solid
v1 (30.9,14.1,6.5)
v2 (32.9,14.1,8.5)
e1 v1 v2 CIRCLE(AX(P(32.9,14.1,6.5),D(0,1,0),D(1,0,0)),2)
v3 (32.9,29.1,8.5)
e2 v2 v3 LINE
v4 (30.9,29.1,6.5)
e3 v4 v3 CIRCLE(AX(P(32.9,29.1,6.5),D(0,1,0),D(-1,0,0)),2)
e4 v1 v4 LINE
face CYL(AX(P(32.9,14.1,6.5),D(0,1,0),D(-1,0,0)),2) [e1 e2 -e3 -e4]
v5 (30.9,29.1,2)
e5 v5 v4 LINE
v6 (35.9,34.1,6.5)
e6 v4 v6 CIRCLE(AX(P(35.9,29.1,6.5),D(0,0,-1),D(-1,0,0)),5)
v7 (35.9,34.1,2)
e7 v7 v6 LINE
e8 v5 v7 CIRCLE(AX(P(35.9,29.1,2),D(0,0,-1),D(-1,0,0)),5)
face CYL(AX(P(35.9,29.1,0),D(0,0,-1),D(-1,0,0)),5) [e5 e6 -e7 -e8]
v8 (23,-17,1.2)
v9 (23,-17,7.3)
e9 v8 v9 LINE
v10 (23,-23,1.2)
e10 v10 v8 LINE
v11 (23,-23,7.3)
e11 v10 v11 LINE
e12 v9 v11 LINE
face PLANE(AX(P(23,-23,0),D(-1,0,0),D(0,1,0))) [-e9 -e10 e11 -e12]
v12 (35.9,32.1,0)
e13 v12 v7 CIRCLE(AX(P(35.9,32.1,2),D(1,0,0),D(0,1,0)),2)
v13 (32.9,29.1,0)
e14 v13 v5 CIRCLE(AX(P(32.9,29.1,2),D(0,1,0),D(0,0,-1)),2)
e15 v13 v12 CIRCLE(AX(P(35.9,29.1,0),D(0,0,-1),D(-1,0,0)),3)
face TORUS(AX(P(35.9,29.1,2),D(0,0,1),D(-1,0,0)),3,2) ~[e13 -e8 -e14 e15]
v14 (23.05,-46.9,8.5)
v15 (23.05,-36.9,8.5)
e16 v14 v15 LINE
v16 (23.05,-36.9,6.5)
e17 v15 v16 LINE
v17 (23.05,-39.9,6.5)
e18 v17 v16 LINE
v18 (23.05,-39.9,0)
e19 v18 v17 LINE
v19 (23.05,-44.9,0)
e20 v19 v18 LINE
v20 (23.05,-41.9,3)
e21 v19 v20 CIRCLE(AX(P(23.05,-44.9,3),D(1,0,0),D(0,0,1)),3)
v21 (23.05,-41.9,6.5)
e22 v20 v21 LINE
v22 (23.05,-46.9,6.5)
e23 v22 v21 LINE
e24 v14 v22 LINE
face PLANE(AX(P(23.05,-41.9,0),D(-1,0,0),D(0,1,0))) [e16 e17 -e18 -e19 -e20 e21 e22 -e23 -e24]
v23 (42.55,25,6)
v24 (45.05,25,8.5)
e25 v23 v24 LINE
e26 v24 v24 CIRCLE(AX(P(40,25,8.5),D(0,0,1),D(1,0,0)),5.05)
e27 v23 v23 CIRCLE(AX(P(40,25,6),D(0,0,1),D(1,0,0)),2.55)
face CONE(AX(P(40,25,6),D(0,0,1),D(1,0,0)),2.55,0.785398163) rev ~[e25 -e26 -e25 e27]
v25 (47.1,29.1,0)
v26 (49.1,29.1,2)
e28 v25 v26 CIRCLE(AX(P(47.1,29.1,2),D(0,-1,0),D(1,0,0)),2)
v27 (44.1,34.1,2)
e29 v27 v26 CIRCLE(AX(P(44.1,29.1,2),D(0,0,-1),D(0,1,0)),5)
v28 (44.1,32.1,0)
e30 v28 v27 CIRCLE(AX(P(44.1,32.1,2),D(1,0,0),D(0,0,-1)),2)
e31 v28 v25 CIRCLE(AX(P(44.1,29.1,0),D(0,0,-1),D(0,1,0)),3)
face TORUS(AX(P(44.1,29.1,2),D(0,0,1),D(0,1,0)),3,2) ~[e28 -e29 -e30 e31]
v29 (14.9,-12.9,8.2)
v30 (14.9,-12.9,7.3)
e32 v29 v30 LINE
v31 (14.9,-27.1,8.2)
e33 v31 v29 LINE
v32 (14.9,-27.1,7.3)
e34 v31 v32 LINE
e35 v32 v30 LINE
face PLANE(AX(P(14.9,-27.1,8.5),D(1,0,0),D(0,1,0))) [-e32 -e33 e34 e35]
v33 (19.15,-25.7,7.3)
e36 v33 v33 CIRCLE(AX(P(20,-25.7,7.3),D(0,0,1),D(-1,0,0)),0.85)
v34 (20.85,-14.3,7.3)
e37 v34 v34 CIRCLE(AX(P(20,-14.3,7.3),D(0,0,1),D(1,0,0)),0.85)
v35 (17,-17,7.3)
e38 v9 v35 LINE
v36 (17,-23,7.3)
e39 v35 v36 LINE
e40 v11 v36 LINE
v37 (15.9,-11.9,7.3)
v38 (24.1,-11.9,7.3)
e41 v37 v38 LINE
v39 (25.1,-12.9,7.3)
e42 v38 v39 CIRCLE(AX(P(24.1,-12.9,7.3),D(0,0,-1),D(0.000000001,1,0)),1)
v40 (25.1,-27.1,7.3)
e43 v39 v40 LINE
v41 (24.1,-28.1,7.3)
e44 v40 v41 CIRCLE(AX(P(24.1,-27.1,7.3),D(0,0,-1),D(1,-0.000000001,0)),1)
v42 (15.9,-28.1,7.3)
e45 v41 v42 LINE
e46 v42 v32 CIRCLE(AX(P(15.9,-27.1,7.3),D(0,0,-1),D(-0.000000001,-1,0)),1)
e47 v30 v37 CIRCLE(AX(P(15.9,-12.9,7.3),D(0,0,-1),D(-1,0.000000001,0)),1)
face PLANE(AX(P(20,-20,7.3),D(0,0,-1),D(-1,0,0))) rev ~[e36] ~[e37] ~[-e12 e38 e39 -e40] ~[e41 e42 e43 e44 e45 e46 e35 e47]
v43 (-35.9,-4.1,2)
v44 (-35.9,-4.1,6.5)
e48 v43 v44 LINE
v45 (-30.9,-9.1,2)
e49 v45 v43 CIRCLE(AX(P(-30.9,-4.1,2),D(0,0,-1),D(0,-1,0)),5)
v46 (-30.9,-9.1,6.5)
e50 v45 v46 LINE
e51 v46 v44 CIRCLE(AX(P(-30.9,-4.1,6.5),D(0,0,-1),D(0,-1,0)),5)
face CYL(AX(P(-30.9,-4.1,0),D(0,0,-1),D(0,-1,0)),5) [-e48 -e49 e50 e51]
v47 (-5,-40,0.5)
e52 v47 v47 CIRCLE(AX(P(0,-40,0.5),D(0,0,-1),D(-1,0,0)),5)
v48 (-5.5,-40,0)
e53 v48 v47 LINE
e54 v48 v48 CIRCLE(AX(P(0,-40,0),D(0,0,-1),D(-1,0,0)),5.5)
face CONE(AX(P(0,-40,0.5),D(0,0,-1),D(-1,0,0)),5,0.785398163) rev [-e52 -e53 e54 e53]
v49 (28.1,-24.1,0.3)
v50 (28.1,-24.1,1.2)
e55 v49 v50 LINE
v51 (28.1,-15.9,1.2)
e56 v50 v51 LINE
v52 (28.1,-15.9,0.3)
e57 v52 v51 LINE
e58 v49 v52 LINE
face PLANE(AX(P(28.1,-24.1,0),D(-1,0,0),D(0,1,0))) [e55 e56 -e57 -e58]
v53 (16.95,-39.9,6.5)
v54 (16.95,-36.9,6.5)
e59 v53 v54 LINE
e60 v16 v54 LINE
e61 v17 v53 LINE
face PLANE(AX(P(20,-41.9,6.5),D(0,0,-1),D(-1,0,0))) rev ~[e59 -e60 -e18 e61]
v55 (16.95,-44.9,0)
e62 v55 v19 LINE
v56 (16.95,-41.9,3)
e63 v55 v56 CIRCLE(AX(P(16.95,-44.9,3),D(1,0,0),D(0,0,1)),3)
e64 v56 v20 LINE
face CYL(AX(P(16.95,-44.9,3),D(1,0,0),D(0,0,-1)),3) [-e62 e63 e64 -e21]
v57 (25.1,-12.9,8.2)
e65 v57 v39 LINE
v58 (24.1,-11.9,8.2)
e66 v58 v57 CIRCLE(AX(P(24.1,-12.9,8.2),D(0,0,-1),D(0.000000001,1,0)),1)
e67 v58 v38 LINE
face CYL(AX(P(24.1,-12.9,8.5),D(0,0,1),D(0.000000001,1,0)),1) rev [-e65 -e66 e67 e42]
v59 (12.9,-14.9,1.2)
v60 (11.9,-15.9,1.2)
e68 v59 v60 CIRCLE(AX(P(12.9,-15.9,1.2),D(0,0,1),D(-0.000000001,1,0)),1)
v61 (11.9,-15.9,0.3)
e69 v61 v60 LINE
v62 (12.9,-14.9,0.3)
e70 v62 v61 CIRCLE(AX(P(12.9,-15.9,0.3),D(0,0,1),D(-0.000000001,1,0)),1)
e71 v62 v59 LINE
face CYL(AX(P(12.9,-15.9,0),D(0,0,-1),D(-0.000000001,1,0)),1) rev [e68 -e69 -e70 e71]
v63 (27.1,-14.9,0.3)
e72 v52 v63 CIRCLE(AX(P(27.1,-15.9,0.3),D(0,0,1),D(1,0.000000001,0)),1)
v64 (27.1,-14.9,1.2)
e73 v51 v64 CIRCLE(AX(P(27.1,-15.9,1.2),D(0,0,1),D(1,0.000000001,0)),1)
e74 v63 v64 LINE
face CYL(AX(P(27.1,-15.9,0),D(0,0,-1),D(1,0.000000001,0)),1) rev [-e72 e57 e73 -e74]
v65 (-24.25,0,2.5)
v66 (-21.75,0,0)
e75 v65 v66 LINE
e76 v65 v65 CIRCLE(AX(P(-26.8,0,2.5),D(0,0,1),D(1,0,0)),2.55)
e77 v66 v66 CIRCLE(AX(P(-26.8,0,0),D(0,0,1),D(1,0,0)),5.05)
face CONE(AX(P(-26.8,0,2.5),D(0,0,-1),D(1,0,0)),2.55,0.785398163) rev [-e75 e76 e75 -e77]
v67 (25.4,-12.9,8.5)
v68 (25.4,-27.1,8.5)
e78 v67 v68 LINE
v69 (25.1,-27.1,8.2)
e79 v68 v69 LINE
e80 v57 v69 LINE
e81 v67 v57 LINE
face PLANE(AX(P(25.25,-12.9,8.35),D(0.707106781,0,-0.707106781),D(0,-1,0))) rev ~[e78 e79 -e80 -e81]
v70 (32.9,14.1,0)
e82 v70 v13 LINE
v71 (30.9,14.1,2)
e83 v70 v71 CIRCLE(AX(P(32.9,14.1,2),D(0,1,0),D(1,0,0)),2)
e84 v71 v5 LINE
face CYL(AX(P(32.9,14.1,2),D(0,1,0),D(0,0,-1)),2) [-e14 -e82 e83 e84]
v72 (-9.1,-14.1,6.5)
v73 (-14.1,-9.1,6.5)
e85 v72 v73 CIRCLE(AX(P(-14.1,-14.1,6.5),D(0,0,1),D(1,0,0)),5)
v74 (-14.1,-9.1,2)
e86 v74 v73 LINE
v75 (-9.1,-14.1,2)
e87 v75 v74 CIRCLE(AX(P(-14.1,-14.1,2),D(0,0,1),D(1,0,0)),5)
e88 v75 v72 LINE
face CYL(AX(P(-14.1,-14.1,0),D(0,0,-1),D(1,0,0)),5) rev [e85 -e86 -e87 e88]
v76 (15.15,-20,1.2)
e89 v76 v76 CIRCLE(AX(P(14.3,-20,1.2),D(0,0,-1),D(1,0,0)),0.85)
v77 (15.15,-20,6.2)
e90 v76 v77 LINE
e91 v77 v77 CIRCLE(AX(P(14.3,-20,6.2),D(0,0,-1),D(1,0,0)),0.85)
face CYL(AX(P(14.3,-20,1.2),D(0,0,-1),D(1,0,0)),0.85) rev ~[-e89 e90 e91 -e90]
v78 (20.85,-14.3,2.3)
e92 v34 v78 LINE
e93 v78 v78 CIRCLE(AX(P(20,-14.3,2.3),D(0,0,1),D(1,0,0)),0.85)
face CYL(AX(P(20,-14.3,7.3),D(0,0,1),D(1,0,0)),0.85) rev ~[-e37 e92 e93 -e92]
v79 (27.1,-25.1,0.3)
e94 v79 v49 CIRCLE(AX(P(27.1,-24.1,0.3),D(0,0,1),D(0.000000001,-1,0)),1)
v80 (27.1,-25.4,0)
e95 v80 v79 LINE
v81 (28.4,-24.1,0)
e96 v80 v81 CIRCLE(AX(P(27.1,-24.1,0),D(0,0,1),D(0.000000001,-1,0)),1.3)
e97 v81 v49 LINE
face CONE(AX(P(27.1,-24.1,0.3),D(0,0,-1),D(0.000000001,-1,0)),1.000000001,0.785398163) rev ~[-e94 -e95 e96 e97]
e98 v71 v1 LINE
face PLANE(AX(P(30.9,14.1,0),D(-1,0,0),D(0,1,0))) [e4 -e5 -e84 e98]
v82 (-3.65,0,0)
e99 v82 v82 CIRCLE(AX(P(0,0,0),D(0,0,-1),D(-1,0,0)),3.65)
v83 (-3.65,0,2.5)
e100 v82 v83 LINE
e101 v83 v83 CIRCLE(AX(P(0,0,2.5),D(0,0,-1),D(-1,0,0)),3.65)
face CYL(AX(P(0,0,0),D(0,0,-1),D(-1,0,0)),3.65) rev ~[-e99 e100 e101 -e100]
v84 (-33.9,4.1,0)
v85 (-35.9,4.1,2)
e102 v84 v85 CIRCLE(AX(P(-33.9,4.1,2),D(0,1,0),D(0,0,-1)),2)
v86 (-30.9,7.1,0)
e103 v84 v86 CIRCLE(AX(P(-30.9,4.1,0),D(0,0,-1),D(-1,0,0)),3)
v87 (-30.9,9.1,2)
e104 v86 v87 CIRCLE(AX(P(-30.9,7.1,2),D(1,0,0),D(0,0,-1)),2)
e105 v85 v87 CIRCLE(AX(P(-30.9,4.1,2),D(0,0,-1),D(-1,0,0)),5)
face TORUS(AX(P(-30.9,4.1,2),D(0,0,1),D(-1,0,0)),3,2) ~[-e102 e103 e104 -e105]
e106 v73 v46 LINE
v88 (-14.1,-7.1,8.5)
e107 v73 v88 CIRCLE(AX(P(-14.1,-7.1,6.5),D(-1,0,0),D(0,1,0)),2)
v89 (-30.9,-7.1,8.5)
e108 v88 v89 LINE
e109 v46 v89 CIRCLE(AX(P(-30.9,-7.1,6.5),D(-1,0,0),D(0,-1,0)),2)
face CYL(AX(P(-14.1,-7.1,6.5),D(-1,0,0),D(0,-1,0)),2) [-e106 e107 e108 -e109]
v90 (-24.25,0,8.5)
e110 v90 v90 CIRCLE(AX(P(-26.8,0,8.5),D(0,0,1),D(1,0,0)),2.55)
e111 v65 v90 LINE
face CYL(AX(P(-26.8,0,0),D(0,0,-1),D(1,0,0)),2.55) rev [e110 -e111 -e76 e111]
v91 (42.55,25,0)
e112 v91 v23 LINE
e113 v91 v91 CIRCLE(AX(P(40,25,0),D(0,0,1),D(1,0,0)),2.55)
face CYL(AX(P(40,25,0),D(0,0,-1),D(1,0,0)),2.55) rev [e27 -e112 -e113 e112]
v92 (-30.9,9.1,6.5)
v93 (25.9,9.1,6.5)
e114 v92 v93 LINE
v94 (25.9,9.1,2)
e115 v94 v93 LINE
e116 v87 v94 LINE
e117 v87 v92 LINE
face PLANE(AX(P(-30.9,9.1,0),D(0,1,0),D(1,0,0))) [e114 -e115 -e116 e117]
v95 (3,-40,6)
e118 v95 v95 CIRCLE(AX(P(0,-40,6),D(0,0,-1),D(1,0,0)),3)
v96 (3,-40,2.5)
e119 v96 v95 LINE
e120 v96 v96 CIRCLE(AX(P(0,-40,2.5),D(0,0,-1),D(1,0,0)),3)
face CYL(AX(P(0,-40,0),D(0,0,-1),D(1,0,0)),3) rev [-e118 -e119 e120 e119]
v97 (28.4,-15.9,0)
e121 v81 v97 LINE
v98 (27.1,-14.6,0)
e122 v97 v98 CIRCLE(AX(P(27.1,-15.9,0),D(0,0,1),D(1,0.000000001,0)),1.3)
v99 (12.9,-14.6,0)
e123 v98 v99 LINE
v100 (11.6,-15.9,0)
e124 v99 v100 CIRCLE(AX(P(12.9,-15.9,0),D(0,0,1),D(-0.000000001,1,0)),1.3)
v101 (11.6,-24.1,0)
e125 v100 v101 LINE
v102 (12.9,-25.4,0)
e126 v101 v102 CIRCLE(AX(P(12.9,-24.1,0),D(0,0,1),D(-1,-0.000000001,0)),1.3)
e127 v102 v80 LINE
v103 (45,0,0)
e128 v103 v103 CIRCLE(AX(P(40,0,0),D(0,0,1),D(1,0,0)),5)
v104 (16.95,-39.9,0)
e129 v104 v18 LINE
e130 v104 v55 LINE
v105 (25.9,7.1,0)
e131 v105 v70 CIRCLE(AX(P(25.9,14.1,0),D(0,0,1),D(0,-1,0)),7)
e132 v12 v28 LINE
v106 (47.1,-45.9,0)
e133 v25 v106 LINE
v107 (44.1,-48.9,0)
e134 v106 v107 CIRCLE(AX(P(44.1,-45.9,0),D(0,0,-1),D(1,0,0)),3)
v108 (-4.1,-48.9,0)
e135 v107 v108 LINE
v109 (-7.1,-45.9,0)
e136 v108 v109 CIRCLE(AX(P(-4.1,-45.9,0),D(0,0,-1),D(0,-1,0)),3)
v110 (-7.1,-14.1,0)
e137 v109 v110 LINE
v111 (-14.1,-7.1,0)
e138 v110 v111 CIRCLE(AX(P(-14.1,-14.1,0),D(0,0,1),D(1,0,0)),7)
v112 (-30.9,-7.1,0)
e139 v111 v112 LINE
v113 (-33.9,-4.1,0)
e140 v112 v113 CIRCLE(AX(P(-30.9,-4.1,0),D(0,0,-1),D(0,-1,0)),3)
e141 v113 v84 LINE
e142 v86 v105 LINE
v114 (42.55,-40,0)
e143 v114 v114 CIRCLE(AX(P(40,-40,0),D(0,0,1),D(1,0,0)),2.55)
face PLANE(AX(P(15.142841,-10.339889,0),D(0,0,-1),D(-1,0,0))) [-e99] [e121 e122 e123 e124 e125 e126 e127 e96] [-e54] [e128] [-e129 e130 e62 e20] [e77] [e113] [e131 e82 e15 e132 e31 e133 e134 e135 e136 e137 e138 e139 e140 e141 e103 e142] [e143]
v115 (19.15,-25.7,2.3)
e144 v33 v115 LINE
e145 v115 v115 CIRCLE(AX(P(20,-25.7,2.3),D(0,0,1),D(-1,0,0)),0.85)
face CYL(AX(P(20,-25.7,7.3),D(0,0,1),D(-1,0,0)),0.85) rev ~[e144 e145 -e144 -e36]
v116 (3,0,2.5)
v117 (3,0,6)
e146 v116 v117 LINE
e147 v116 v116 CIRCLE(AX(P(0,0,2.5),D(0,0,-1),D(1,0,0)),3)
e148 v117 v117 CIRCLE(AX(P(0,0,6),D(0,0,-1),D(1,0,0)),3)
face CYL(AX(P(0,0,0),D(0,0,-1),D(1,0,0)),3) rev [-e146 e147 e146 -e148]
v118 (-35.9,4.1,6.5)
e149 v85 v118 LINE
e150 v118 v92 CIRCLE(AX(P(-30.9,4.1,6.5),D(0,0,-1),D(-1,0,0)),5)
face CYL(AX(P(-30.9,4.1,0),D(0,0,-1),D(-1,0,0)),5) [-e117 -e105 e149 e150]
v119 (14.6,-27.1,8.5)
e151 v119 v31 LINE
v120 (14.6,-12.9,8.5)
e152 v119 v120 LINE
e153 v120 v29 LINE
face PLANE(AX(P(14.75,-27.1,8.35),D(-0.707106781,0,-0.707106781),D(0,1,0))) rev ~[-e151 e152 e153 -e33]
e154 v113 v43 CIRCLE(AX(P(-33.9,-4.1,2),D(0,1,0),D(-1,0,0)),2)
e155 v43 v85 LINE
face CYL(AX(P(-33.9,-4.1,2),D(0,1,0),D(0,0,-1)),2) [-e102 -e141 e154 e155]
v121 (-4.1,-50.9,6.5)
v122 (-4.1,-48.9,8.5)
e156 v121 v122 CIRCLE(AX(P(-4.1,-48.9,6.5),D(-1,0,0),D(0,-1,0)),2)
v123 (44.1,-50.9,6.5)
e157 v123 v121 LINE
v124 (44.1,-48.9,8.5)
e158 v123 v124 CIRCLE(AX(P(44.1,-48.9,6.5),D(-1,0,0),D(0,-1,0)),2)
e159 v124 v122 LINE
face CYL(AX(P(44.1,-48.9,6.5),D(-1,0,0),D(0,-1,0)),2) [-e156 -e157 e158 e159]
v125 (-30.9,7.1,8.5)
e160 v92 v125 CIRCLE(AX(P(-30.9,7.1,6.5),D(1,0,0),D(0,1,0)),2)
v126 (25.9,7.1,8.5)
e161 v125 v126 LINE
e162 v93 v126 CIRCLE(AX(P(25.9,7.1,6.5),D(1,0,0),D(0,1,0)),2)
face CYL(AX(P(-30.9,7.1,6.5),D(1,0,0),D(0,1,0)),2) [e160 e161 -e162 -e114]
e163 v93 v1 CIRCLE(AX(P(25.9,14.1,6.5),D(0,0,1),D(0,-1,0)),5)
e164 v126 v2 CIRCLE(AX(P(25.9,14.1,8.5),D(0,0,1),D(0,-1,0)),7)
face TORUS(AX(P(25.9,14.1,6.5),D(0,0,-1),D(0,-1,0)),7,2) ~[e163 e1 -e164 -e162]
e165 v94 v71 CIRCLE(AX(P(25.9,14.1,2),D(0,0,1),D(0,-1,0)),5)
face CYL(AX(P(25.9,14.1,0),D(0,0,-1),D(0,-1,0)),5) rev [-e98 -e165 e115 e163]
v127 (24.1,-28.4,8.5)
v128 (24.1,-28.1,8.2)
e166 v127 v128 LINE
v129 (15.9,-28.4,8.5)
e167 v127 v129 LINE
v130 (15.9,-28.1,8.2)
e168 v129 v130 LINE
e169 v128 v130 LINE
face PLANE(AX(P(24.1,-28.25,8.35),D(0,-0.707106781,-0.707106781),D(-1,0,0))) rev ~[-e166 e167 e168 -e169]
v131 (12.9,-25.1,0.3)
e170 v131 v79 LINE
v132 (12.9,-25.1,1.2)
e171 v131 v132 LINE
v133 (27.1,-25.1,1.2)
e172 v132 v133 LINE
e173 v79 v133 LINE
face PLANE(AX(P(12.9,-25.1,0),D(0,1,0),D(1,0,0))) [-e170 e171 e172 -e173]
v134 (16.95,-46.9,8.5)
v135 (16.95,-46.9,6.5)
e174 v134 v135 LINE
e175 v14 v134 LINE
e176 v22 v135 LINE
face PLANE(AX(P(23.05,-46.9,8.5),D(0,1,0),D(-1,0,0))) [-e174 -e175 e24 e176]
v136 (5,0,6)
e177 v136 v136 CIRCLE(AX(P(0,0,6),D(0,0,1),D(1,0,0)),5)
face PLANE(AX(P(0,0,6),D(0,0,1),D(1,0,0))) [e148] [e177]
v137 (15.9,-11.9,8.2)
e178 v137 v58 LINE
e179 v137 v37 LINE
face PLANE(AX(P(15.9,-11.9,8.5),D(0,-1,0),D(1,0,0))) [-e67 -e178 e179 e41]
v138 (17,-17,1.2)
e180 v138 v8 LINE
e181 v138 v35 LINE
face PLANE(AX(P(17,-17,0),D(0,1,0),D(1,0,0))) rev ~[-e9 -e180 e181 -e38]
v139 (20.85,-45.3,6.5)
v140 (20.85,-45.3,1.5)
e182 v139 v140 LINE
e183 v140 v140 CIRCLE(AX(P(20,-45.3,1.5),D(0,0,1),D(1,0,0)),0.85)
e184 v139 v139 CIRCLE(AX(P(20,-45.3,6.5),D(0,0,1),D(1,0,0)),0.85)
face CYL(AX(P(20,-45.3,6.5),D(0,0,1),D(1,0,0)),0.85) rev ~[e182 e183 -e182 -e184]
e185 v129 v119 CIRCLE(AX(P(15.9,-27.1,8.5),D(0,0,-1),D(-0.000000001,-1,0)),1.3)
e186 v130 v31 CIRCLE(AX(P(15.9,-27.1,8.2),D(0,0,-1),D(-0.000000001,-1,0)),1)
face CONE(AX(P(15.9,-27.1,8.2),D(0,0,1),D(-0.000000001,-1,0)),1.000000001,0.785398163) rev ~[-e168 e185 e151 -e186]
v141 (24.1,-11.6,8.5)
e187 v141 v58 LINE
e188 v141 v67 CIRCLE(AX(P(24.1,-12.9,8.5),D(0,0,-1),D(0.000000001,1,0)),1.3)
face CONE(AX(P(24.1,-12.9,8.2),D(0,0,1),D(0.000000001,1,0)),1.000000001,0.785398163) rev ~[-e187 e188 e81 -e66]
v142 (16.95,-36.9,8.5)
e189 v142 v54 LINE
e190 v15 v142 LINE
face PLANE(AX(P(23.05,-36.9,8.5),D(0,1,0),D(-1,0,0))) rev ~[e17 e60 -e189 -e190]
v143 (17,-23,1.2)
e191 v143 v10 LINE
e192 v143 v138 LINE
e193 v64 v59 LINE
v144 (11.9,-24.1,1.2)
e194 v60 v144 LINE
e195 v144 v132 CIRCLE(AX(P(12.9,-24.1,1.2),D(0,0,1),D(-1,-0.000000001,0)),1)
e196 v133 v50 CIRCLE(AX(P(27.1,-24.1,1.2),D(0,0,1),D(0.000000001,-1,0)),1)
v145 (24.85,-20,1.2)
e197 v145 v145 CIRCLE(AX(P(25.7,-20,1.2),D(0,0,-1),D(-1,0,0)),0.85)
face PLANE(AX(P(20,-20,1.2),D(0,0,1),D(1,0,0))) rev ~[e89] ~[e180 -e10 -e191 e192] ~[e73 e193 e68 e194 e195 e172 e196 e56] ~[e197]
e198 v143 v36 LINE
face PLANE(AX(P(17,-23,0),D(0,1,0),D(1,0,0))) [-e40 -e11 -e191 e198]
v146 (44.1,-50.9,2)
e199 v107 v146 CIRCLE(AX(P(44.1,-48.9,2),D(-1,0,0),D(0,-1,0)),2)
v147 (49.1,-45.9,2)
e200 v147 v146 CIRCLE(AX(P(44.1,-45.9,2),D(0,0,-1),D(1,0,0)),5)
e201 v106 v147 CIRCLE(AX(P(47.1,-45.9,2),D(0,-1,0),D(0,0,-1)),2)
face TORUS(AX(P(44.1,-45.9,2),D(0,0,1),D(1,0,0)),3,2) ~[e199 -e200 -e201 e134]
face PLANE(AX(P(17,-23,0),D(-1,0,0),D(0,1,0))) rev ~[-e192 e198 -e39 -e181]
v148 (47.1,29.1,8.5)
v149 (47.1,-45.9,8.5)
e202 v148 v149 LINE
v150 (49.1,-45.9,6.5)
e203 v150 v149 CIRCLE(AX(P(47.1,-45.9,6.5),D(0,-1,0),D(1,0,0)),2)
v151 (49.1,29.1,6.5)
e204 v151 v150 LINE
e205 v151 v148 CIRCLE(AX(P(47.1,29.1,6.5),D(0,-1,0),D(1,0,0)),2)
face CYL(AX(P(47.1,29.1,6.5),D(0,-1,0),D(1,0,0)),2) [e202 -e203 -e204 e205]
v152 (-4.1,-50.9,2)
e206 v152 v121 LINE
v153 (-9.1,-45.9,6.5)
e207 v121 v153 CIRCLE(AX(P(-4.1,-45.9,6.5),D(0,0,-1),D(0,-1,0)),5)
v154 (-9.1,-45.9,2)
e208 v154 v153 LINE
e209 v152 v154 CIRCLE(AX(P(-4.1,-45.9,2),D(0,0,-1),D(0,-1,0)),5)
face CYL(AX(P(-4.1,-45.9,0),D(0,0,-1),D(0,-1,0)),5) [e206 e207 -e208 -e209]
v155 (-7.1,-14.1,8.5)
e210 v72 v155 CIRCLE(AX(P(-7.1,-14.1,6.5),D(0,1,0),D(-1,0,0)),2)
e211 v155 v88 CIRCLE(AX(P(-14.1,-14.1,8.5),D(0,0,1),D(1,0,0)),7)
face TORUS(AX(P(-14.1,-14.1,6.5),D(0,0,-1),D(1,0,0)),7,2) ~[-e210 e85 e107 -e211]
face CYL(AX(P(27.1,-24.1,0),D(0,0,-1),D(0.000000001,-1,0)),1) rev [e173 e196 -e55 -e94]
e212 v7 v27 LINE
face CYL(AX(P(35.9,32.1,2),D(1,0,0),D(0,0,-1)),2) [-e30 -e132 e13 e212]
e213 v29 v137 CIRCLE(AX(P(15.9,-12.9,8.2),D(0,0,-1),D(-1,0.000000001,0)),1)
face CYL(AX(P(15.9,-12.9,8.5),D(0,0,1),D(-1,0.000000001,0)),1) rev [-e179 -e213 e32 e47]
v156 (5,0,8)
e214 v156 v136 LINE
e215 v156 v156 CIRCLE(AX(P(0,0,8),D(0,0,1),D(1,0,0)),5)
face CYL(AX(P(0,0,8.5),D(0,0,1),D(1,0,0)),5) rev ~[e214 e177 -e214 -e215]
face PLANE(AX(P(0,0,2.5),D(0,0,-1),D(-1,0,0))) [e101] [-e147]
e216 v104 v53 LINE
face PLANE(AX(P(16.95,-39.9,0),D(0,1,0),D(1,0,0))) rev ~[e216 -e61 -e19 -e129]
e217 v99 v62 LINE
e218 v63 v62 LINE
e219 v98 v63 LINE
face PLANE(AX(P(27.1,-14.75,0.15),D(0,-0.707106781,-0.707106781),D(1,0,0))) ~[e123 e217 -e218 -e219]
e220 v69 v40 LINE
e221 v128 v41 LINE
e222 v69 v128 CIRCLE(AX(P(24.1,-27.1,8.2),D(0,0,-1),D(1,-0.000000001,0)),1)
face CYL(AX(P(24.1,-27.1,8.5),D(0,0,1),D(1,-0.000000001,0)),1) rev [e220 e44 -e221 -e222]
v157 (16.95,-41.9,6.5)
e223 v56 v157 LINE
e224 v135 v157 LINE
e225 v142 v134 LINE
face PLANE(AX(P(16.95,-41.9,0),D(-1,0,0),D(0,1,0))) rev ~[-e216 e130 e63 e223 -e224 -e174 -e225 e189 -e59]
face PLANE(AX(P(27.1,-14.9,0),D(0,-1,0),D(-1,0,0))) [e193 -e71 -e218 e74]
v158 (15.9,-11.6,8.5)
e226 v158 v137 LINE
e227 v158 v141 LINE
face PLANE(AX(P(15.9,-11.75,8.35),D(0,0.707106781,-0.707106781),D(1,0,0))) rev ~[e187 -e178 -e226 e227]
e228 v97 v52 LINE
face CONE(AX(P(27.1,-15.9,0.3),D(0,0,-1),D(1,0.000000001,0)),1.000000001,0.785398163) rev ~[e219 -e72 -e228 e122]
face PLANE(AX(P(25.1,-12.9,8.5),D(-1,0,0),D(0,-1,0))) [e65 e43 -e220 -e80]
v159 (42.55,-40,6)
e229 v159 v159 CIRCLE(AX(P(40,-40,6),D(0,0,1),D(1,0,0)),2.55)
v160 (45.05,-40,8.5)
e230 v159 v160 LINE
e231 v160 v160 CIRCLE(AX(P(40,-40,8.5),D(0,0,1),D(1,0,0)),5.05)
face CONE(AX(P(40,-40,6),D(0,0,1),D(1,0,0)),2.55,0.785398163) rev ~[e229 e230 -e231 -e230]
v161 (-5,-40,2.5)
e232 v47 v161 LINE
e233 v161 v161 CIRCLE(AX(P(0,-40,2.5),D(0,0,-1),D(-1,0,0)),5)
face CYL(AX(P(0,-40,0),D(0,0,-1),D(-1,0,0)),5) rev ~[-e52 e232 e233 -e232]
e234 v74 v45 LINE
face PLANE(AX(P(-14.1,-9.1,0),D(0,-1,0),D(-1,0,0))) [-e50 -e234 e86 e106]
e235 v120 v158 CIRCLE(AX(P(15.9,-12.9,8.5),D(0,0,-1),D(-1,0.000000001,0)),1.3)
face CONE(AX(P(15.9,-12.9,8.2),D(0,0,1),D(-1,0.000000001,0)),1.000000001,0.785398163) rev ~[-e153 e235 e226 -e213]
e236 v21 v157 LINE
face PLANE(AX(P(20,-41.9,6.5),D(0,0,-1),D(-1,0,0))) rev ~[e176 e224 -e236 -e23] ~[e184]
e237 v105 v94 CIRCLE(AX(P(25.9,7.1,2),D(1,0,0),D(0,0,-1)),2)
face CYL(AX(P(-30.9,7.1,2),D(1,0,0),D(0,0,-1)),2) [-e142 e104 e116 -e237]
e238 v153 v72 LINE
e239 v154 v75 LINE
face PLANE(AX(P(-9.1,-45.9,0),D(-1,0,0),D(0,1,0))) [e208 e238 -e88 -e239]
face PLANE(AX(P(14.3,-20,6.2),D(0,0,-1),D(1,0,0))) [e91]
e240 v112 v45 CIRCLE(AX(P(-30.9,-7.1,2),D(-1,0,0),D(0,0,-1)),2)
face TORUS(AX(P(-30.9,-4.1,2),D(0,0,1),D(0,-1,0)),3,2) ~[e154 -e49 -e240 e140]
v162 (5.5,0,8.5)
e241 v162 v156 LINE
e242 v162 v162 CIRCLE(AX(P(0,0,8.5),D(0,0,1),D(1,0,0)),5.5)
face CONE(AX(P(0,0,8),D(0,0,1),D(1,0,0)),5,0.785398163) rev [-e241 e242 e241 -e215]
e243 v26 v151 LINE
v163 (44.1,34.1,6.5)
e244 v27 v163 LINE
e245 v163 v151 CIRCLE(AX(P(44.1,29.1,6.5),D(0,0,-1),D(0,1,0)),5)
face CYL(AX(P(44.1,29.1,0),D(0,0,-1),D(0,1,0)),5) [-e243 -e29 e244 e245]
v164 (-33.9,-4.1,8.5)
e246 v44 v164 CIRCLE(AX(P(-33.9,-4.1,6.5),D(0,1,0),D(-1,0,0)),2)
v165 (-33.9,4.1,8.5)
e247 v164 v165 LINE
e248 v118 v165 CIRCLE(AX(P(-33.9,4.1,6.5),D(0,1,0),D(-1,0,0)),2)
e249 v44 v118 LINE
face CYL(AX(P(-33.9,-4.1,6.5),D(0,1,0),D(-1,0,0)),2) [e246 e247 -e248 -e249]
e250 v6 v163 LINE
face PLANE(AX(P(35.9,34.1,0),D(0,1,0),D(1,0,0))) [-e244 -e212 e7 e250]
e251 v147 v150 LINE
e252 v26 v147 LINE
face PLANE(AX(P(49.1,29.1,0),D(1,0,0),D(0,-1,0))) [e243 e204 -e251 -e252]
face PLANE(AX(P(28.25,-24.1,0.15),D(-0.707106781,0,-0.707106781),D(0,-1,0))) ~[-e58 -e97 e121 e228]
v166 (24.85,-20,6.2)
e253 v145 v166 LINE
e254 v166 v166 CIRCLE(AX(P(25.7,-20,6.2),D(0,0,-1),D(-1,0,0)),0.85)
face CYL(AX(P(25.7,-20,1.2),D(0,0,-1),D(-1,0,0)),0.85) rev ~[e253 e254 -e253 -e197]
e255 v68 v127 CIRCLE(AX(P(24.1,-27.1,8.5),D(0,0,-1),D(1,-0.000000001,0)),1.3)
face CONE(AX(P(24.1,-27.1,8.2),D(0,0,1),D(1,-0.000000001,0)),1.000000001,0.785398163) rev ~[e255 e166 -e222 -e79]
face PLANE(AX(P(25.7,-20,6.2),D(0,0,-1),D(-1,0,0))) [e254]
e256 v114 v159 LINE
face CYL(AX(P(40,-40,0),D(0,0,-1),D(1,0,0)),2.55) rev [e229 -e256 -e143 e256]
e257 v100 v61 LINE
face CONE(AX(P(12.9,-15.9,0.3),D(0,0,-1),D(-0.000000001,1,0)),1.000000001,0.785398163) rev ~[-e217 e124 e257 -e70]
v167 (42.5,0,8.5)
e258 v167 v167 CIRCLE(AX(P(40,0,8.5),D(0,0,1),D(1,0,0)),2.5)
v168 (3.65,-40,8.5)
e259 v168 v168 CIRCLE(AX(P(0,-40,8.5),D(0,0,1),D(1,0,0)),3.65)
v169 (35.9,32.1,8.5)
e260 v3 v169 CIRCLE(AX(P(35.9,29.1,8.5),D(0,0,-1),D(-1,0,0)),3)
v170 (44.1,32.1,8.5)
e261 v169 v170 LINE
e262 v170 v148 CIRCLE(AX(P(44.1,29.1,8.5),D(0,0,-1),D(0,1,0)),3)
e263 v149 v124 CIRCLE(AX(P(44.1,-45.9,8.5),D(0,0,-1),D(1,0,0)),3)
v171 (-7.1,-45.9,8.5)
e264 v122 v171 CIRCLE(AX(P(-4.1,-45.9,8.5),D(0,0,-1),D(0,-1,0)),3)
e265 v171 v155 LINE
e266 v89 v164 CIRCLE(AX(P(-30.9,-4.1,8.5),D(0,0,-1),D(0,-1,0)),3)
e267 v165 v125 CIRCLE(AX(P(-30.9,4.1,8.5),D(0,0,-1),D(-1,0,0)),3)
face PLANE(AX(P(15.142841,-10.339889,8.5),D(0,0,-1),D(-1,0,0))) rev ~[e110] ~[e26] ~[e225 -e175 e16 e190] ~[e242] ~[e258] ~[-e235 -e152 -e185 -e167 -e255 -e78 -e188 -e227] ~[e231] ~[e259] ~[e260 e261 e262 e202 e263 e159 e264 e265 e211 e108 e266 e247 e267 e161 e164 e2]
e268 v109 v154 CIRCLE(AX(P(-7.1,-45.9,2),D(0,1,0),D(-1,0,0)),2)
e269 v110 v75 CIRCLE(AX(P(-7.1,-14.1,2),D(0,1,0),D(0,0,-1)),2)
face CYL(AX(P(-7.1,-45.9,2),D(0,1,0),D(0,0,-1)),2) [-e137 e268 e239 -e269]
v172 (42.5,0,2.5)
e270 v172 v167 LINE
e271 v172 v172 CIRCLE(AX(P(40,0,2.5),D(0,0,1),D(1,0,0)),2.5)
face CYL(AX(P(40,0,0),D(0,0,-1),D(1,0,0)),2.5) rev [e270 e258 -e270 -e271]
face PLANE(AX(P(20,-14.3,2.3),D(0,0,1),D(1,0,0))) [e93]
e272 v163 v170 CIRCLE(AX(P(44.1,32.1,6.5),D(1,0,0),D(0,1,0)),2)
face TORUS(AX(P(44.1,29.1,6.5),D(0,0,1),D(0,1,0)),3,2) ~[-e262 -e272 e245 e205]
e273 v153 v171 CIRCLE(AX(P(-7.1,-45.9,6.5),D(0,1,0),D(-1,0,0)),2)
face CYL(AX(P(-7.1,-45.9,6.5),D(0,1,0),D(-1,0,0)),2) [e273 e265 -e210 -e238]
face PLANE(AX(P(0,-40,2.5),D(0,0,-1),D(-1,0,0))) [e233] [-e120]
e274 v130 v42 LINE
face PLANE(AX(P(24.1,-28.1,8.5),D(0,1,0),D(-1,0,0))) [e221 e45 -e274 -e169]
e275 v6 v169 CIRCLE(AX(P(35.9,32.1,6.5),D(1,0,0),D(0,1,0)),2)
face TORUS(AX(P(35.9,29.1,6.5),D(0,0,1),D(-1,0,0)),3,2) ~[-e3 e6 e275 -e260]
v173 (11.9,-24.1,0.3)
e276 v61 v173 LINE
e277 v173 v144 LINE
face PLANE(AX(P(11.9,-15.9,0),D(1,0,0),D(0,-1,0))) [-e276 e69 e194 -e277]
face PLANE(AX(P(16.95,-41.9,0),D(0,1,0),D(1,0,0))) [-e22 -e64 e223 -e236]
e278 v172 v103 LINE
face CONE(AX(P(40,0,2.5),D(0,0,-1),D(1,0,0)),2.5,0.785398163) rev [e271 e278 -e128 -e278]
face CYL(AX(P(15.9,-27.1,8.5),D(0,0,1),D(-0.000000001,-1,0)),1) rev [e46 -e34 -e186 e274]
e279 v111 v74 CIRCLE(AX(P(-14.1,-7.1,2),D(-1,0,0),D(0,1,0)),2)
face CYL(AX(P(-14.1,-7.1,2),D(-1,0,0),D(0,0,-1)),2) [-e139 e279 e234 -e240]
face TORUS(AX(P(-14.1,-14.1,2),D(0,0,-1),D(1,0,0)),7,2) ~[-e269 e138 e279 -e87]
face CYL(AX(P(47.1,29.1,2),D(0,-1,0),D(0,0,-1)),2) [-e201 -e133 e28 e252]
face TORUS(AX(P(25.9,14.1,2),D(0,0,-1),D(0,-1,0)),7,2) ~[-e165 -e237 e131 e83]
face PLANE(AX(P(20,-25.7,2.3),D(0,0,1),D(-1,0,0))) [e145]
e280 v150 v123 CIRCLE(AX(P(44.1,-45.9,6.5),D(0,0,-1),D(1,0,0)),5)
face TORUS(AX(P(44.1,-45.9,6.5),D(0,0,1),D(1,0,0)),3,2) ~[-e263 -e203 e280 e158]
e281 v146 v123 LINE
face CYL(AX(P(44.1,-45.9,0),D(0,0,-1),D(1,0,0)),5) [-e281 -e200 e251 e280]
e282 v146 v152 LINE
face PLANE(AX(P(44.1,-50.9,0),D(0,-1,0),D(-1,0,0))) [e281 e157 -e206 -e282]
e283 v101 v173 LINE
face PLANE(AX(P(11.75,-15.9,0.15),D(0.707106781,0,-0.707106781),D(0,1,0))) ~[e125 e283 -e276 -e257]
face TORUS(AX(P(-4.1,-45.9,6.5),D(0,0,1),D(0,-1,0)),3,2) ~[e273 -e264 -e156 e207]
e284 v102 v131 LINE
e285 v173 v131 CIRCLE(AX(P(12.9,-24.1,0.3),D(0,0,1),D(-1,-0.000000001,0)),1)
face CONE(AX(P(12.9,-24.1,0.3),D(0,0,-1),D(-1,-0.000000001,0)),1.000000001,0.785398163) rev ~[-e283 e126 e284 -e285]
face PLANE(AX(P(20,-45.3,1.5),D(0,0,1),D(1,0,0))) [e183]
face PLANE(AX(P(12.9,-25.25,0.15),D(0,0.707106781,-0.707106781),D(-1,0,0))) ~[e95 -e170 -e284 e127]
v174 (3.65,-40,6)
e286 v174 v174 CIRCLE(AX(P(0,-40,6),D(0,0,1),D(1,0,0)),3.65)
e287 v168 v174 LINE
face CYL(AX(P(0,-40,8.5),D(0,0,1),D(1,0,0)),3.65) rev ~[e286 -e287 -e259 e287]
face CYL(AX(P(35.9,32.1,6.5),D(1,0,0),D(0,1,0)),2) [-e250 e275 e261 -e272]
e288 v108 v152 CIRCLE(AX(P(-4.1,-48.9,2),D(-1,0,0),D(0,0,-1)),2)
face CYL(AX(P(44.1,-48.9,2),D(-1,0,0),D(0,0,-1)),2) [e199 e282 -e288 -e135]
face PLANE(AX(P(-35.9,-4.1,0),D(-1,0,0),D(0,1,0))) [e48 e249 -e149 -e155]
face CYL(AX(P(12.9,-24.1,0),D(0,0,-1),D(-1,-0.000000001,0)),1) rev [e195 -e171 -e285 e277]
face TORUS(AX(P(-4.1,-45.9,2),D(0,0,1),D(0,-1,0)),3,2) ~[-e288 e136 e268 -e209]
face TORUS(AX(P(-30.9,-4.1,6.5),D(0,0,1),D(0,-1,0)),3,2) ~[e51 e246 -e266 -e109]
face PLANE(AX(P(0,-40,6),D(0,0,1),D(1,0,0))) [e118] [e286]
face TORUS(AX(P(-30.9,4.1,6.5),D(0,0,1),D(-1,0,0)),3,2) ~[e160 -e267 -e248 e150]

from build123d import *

# Parameters (mm, degrees)
SKETCH_2_R           = 3
SKETCH_2_R_2         = 2.5
SKETCH_2_R_3         = 2.55
SKETCH_2_W           = 6
SKETCH_2_H           = 6
SKETCH_2_W_2         = 6.1
SKETCH_2_H_2         = 2
EXTRUDE_2_DEPTH      = 8.5
CHAMFER_3_SIZE       = 2.5
FILLET_1_R           = 3
CUT_EXTRUDE_1_DEPTH  = 1.2
SKETCH_4_R           = 0.85
CUT_EXTRUDE_2_DEPTH  = 5
CUT_EXTRUDE_3_DEPTH  = 1.2
SKETCH_6_R           = 0.85
CUT_EXTRUDE_4_DEPTH  = 5
FILLET_2_R           = 2
SKETCH_7_W           = 6.1
SKETCH_7_H           = 10
CUT_EXTRUDE_5_DEPTH  = 2
SKETCH_8_R           = 0.85
CUT_EXTRUDE_6_DEPTH  = 5
SKETCH_9_R           = 3.65
CUT_EXTRUDE_7_DEPTH  = 2.5
SKETCH_10_R          = 3.65
CUT_EXTRUDE_8_DEPTH  = 2.5
SKETCH_11_R          = 5
CUT_EXTRUDE_9_DEPTH  = 2.5
SKETCH_12_R          = 5
CUT_EXTRUDE_10_DEPTH = 2.5
CHAMFER_4_SIZE       = 0.5
CHAMFER_5_SIZE       = 0.3


with BuildPart() as part:
    # 草图2 → 凸台-拉伸2 (new body)
    with BuildSketch(Plane.XY):
        with BuildLine():
            Line((-10.9, 9.1), (25.9, 9.1))
            ThreePointArc((25.9, 9.1), (29.435533906, 10.564466094), (30.9, 14.1))
            Line((30.9, 14.1), (30.9, 29.1))
            ThreePointArc((30.9, 29.1), (32.364466094, 32.635533906), (35.9, 34.1))
            Line((35.9, 34.1), (44.1, 34.1))
            ThreePointArc((44.1, 34.1), (47.635533906, 32.635533906), (49.1, 29.1))
            Line((49.1, 29.1), (49.1, 9.1))
            Line((49.1, 9.1), (49.1, -45.9))
            ThreePointArc((49.1, -45.9), (47.635533906, -49.435533906), (44.1, -50.9))
            Line((44.1, -50.9), (-4.1, -50.9))
            ThreePointArc((-4.1, -50.9), (-7.635533906, -49.435533906), (-9.1, -45.9))
            Line((-9.1, -45.9), (-9.1, -14.1))
            ThreePointArc((-9.1, -14.1), (-10.564466094, -10.564466094), (-14.1, -9.1))
            Line((-14.1, -9.1), (-30.9, -9.1))
            ThreePointArc((-30.9, -9.1), (-34.435533906, -7.635533906), (-35.9, -4.1))
            Line((-35.9, -4.1), (-35.9, 4.1))
            ThreePointArc((-35.9, 4.1), (-34.435533906, 7.635533906), (-30.9, 9.1))
            Line((-30.9, 9.1), (-10.9, 9.1))
        make_face()
        Circle(SKETCH_2_R, mode=Mode.SUBTRACT)
        with Locations((40, 0)):
            Circle(SKETCH_2_R_2, mode=Mode.SUBTRACT)
        with Locations((0, -40)):
            Circle(SKETCH_2_R, mode=Mode.SUBTRACT)
        with Locations((40, -40)):
            Circle(SKETCH_2_R_3, mode=Mode.SUBTRACT)
        with Locations((40, 25)):
            Circle(SKETCH_2_R_3, mode=Mode.SUBTRACT)
        with Locations((-26.8, 0)):
            Circle(SKETCH_2_R_3, mode=Mode.SUBTRACT)
        with Locations((20, -20)):
            Rectangle(SKETCH_2_W, SKETCH_2_H, mode=Mode.SUBTRACT)
        with Locations((20, -40.9)):
            Rectangle(SKETCH_2_W_2, SKETCH_2_H_2, mode=Mode.SUBTRACT)
    extrude(amount=EXTRUDE_2_DEPTH)

    # 倒角3
    chamfer_3_edges = [part.edges().sort_by_distance(p)[0] for p in [
        (37.5, 0, 0),
        (37.45, -40, 8.5),
        (37.45, 25, 8.5),
        (-29.35, 0, 0),
    ]]
    chamfer(chamfer_3_edges, length=CHAMFER_3_SIZE)

    # 圆角1
    fillet_1_edges = [part.edges().sort_by_distance(p)[0] for p in [
        (20, -41.9, 0),
    ]]
    fillet(fillet_1_edges, radius=FILLET_1_R)

    # 草图3 → 切除-拉伸1 (cut)
    with BuildSketch(Plane.XY.offset(8.5)):
        with BuildLine():
            Line((15.9, -11.9), (24.1, -11.9))
            ThreePointArc((24.1, -11.9), (24.807106781, -12.192893219), (25.1, -12.9))
            Line((25.1, -12.9), (25.1, -27.1))
            ThreePointArc((25.1, -27.1), (24.807106781, -27.807106781), (24.1, -28.1))
            Line((24.1, -28.1), (15.9, -28.1))
            ThreePointArc((15.9, -28.1), (15.192893219, -27.807106781), (14.9, -27.1))
            Line((14.9, -27.1), (14.9, -12.9))
            ThreePointArc((14.9, -12.9), (15.192893219, -12.192893219), (15.9, -11.9))
        make_face()
    extrude(amount=-CUT_EXTRUDE_1_DEPTH, mode=Mode.SUBTRACT)

    # 草图4 → 切除-拉伸2 (cut)
    with BuildSketch(Plane.XY.offset(7.3)):
        with Locations((20, -14.3)):
            Circle(SKETCH_4_R)
        with Locations(Location((20, -25.7, 0), (0, 0, 180))):
            Circle(SKETCH_4_R)
    extrude(amount=-CUT_EXTRUDE_2_DEPTH, mode=Mode.SUBTRACT)

    # 草图5 → 切除-拉伸3 (cut)
    with BuildSketch(Plane(origin=(0, 0, 0), x_dir=(-1, 0, 0), z_dir=(0, 0, -1))):
        with BuildLine():
            Line((-27.1, -14.9), (-12.9, -14.9))
            ThreePointArc((-12.9, -14.9), (-12.192893219, -15.192893219), (-11.9, -15.9))
            Line((-11.9, -15.9), (-11.9, -24.1))
            ThreePointArc((-11.9, -24.1), (-12.192893219, -24.807106781), (-12.9, -25.1))
            Line((-12.9, -25.1), (-27.1, -25.1))
            ThreePointArc((-27.1, -25.1), (-27.807106781, -24.807106781), (-28.1, -24.1))
            Line((-28.1, -24.1), (-28.1, -15.9))
            ThreePointArc((-28.1, -15.9), (-27.807106781, -15.192893219), (-27.1, -14.9))
        make_face()
    extrude(amount=-CUT_EXTRUDE_3_DEPTH, mode=Mode.SUBTRACT)

    # 草图6 → 切除-拉伸4 (cut)
    with BuildSketch(Plane(origin=(0, 0, 1.2), x_dir=(-1, 0, 0), z_dir=(0, 0, -1))):
        with Locations((-25.7, -20)):
            Circle(SKETCH_6_R)
        with Locations(Location((-14.3, -20, 0), (0, 0, 180))):
            Circle(SKETCH_6_R)
    extrude(amount=-CUT_EXTRUDE_4_DEPTH, mode=Mode.SUBTRACT)

    # 圆角2
    fillet_2_edges = [part.edges().sort_by_distance(p)[0] for p in [
        (-35.9, 0, 8.5),
        (-34.435533906, -7.635533906, 8.5),
        (-2.5, 9.1, 0),
        (-22.5, -9.1, 8.5),
        (29.435533906, 10.564466094, 0),
        (30.9, 21.6, 0),
        (32.364466094, 32.635533906, 0),
        (40, 34.1, 0),
        (47.635533906, 32.635533906, 0),
        (49.1, -8.4, 0),
        (47.635533906, -49.435533906, 0),
        (-10.564466094, -10.564466094, 8.5),
        (20, -50.9, 0),
        (-7.635533906, -49.435533906, 0),
        (-9.1, -30, 0),
        (-10.564466094, -10.564466094, 0),
        (-22.5, -9.1, 0),
        (-34.435533906, -7.635533906, 0),
        (-35.9, 0, 0),
        (-9.1, -30, 8.5),
        (-34.435533906, 7.635533906, 0),
        (-7.635533906, -49.435533906, 8.5),
        (20, -50.9, 8.5),
        (47.635533906, -49.435533906, 8.5),
        (49.1, -8.4, 8.5),
        (-2.5, 9.1, 8.5),
        (47.635533906, 32.635533906, 8.5),
        (40, 34.1, 8.5),
        (32.364466094, 32.635533906, 8.5),
        (30.9, 21.6, 8.5),
        (29.435533906, 10.564466094, 8.5),
        (-34.435533906, 7.635533906, 8.5),
    ]]
    fillet(fillet_2_edges, radius=FILLET_2_R)

    # 草图7 → 切除-拉伸5 (cut)
    with BuildSketch(Plane(origin=(0, 0, 8.5), x_dir=(-1, 0, 0), z_dir=(0, 0, -1))):
        with Locations((-20, -41.9)):
            Rectangle(SKETCH_7_W, SKETCH_7_H)
    extrude(amount=CUT_EXTRUDE_5_DEPTH, mode=Mode.SUBTRACT)

    # 草图8 → 切除-拉伸6 (cut)
    with BuildSketch(Plane.XY.offset(6.5)):
        with Locations((20, -45.3)):
            Circle(SKETCH_8_R)
    extrude(amount=-CUT_EXTRUDE_6_DEPTH, mode=Mode.SUBTRACT)

    # 草图9 → 切除-拉伸7 (cut)
    with BuildSketch(Plane.XY.offset(8.5)):
        with Locations((0, -40)):
            Circle(SKETCH_9_R)
    extrude(amount=-CUT_EXTRUDE_7_DEPTH, mode=Mode.SUBTRACT)

    # 草图10 → 切除-拉伸8 (cut)
    with BuildSketch(Plane(origin=(0, 0, 0), x_dir=(-1, 0, 0), z_dir=(0, 0, -1))):
        Circle(SKETCH_10_R)
    extrude(amount=-CUT_EXTRUDE_8_DEPTH, mode=Mode.SUBTRACT)

    # 草图11 → 切除-拉伸9 (cut)
    with BuildSketch(Plane(origin=(0, 0, 0), x_dir=(-1, 0, 0), z_dir=(0, 0, -1))):
        with Locations((0, -40)):
            Circle(SKETCH_11_R)
    extrude(amount=-CUT_EXTRUDE_9_DEPTH, mode=Mode.SUBTRACT)

    # 草图12 → 切除-拉伸10 (cut)
    with BuildSketch(Plane.XY.offset(8.5)):
        Circle(SKETCH_12_R)
    extrude(amount=-CUT_EXTRUDE_10_DEPTH, mode=Mode.SUBTRACT)

    # 倒角4
    chamfer_4_edges = [part.edges().sort_by_distance(p)[0] for p in [
        (5, -40, 0),
        (-5, 0, 8.5),
    ]]
    chamfer(chamfer_4_edges, length=CHAMFER_4_SIZE)

    # 倒角5
    chamfer_5_edges = [part.edges().sort_by_distance(p)[0] for p in [
        (24.807106781, -27.807106781, 8.5),
        (25.1, -20, 8.5),
        (24.807106781, -12.192893219, 8.5),
        (20, -11.9, 8.5),
        (15.192893219, -12.192893219, 8.5),
        (14.9, -20, 8.5),
        (15.192893219, -27.807106781, 8.5),
        (20, -28.1, 8.5),
        (12.192893219, -15.192893219, 0),
        (20, -14.9, 0),
        (27.807106781, -15.192893219, 0),
        (28.1, -20, 0),
        (27.807106781, -24.807106781, 0),
        (20, -25.1, 0),
        (12.192893219, -24.807106781, 0),
        (11.9, -20, 0),
    ]]
    chamfer(chamfer_5_edges, length=CHAMFER_5_SIZE)


solid = part.part
